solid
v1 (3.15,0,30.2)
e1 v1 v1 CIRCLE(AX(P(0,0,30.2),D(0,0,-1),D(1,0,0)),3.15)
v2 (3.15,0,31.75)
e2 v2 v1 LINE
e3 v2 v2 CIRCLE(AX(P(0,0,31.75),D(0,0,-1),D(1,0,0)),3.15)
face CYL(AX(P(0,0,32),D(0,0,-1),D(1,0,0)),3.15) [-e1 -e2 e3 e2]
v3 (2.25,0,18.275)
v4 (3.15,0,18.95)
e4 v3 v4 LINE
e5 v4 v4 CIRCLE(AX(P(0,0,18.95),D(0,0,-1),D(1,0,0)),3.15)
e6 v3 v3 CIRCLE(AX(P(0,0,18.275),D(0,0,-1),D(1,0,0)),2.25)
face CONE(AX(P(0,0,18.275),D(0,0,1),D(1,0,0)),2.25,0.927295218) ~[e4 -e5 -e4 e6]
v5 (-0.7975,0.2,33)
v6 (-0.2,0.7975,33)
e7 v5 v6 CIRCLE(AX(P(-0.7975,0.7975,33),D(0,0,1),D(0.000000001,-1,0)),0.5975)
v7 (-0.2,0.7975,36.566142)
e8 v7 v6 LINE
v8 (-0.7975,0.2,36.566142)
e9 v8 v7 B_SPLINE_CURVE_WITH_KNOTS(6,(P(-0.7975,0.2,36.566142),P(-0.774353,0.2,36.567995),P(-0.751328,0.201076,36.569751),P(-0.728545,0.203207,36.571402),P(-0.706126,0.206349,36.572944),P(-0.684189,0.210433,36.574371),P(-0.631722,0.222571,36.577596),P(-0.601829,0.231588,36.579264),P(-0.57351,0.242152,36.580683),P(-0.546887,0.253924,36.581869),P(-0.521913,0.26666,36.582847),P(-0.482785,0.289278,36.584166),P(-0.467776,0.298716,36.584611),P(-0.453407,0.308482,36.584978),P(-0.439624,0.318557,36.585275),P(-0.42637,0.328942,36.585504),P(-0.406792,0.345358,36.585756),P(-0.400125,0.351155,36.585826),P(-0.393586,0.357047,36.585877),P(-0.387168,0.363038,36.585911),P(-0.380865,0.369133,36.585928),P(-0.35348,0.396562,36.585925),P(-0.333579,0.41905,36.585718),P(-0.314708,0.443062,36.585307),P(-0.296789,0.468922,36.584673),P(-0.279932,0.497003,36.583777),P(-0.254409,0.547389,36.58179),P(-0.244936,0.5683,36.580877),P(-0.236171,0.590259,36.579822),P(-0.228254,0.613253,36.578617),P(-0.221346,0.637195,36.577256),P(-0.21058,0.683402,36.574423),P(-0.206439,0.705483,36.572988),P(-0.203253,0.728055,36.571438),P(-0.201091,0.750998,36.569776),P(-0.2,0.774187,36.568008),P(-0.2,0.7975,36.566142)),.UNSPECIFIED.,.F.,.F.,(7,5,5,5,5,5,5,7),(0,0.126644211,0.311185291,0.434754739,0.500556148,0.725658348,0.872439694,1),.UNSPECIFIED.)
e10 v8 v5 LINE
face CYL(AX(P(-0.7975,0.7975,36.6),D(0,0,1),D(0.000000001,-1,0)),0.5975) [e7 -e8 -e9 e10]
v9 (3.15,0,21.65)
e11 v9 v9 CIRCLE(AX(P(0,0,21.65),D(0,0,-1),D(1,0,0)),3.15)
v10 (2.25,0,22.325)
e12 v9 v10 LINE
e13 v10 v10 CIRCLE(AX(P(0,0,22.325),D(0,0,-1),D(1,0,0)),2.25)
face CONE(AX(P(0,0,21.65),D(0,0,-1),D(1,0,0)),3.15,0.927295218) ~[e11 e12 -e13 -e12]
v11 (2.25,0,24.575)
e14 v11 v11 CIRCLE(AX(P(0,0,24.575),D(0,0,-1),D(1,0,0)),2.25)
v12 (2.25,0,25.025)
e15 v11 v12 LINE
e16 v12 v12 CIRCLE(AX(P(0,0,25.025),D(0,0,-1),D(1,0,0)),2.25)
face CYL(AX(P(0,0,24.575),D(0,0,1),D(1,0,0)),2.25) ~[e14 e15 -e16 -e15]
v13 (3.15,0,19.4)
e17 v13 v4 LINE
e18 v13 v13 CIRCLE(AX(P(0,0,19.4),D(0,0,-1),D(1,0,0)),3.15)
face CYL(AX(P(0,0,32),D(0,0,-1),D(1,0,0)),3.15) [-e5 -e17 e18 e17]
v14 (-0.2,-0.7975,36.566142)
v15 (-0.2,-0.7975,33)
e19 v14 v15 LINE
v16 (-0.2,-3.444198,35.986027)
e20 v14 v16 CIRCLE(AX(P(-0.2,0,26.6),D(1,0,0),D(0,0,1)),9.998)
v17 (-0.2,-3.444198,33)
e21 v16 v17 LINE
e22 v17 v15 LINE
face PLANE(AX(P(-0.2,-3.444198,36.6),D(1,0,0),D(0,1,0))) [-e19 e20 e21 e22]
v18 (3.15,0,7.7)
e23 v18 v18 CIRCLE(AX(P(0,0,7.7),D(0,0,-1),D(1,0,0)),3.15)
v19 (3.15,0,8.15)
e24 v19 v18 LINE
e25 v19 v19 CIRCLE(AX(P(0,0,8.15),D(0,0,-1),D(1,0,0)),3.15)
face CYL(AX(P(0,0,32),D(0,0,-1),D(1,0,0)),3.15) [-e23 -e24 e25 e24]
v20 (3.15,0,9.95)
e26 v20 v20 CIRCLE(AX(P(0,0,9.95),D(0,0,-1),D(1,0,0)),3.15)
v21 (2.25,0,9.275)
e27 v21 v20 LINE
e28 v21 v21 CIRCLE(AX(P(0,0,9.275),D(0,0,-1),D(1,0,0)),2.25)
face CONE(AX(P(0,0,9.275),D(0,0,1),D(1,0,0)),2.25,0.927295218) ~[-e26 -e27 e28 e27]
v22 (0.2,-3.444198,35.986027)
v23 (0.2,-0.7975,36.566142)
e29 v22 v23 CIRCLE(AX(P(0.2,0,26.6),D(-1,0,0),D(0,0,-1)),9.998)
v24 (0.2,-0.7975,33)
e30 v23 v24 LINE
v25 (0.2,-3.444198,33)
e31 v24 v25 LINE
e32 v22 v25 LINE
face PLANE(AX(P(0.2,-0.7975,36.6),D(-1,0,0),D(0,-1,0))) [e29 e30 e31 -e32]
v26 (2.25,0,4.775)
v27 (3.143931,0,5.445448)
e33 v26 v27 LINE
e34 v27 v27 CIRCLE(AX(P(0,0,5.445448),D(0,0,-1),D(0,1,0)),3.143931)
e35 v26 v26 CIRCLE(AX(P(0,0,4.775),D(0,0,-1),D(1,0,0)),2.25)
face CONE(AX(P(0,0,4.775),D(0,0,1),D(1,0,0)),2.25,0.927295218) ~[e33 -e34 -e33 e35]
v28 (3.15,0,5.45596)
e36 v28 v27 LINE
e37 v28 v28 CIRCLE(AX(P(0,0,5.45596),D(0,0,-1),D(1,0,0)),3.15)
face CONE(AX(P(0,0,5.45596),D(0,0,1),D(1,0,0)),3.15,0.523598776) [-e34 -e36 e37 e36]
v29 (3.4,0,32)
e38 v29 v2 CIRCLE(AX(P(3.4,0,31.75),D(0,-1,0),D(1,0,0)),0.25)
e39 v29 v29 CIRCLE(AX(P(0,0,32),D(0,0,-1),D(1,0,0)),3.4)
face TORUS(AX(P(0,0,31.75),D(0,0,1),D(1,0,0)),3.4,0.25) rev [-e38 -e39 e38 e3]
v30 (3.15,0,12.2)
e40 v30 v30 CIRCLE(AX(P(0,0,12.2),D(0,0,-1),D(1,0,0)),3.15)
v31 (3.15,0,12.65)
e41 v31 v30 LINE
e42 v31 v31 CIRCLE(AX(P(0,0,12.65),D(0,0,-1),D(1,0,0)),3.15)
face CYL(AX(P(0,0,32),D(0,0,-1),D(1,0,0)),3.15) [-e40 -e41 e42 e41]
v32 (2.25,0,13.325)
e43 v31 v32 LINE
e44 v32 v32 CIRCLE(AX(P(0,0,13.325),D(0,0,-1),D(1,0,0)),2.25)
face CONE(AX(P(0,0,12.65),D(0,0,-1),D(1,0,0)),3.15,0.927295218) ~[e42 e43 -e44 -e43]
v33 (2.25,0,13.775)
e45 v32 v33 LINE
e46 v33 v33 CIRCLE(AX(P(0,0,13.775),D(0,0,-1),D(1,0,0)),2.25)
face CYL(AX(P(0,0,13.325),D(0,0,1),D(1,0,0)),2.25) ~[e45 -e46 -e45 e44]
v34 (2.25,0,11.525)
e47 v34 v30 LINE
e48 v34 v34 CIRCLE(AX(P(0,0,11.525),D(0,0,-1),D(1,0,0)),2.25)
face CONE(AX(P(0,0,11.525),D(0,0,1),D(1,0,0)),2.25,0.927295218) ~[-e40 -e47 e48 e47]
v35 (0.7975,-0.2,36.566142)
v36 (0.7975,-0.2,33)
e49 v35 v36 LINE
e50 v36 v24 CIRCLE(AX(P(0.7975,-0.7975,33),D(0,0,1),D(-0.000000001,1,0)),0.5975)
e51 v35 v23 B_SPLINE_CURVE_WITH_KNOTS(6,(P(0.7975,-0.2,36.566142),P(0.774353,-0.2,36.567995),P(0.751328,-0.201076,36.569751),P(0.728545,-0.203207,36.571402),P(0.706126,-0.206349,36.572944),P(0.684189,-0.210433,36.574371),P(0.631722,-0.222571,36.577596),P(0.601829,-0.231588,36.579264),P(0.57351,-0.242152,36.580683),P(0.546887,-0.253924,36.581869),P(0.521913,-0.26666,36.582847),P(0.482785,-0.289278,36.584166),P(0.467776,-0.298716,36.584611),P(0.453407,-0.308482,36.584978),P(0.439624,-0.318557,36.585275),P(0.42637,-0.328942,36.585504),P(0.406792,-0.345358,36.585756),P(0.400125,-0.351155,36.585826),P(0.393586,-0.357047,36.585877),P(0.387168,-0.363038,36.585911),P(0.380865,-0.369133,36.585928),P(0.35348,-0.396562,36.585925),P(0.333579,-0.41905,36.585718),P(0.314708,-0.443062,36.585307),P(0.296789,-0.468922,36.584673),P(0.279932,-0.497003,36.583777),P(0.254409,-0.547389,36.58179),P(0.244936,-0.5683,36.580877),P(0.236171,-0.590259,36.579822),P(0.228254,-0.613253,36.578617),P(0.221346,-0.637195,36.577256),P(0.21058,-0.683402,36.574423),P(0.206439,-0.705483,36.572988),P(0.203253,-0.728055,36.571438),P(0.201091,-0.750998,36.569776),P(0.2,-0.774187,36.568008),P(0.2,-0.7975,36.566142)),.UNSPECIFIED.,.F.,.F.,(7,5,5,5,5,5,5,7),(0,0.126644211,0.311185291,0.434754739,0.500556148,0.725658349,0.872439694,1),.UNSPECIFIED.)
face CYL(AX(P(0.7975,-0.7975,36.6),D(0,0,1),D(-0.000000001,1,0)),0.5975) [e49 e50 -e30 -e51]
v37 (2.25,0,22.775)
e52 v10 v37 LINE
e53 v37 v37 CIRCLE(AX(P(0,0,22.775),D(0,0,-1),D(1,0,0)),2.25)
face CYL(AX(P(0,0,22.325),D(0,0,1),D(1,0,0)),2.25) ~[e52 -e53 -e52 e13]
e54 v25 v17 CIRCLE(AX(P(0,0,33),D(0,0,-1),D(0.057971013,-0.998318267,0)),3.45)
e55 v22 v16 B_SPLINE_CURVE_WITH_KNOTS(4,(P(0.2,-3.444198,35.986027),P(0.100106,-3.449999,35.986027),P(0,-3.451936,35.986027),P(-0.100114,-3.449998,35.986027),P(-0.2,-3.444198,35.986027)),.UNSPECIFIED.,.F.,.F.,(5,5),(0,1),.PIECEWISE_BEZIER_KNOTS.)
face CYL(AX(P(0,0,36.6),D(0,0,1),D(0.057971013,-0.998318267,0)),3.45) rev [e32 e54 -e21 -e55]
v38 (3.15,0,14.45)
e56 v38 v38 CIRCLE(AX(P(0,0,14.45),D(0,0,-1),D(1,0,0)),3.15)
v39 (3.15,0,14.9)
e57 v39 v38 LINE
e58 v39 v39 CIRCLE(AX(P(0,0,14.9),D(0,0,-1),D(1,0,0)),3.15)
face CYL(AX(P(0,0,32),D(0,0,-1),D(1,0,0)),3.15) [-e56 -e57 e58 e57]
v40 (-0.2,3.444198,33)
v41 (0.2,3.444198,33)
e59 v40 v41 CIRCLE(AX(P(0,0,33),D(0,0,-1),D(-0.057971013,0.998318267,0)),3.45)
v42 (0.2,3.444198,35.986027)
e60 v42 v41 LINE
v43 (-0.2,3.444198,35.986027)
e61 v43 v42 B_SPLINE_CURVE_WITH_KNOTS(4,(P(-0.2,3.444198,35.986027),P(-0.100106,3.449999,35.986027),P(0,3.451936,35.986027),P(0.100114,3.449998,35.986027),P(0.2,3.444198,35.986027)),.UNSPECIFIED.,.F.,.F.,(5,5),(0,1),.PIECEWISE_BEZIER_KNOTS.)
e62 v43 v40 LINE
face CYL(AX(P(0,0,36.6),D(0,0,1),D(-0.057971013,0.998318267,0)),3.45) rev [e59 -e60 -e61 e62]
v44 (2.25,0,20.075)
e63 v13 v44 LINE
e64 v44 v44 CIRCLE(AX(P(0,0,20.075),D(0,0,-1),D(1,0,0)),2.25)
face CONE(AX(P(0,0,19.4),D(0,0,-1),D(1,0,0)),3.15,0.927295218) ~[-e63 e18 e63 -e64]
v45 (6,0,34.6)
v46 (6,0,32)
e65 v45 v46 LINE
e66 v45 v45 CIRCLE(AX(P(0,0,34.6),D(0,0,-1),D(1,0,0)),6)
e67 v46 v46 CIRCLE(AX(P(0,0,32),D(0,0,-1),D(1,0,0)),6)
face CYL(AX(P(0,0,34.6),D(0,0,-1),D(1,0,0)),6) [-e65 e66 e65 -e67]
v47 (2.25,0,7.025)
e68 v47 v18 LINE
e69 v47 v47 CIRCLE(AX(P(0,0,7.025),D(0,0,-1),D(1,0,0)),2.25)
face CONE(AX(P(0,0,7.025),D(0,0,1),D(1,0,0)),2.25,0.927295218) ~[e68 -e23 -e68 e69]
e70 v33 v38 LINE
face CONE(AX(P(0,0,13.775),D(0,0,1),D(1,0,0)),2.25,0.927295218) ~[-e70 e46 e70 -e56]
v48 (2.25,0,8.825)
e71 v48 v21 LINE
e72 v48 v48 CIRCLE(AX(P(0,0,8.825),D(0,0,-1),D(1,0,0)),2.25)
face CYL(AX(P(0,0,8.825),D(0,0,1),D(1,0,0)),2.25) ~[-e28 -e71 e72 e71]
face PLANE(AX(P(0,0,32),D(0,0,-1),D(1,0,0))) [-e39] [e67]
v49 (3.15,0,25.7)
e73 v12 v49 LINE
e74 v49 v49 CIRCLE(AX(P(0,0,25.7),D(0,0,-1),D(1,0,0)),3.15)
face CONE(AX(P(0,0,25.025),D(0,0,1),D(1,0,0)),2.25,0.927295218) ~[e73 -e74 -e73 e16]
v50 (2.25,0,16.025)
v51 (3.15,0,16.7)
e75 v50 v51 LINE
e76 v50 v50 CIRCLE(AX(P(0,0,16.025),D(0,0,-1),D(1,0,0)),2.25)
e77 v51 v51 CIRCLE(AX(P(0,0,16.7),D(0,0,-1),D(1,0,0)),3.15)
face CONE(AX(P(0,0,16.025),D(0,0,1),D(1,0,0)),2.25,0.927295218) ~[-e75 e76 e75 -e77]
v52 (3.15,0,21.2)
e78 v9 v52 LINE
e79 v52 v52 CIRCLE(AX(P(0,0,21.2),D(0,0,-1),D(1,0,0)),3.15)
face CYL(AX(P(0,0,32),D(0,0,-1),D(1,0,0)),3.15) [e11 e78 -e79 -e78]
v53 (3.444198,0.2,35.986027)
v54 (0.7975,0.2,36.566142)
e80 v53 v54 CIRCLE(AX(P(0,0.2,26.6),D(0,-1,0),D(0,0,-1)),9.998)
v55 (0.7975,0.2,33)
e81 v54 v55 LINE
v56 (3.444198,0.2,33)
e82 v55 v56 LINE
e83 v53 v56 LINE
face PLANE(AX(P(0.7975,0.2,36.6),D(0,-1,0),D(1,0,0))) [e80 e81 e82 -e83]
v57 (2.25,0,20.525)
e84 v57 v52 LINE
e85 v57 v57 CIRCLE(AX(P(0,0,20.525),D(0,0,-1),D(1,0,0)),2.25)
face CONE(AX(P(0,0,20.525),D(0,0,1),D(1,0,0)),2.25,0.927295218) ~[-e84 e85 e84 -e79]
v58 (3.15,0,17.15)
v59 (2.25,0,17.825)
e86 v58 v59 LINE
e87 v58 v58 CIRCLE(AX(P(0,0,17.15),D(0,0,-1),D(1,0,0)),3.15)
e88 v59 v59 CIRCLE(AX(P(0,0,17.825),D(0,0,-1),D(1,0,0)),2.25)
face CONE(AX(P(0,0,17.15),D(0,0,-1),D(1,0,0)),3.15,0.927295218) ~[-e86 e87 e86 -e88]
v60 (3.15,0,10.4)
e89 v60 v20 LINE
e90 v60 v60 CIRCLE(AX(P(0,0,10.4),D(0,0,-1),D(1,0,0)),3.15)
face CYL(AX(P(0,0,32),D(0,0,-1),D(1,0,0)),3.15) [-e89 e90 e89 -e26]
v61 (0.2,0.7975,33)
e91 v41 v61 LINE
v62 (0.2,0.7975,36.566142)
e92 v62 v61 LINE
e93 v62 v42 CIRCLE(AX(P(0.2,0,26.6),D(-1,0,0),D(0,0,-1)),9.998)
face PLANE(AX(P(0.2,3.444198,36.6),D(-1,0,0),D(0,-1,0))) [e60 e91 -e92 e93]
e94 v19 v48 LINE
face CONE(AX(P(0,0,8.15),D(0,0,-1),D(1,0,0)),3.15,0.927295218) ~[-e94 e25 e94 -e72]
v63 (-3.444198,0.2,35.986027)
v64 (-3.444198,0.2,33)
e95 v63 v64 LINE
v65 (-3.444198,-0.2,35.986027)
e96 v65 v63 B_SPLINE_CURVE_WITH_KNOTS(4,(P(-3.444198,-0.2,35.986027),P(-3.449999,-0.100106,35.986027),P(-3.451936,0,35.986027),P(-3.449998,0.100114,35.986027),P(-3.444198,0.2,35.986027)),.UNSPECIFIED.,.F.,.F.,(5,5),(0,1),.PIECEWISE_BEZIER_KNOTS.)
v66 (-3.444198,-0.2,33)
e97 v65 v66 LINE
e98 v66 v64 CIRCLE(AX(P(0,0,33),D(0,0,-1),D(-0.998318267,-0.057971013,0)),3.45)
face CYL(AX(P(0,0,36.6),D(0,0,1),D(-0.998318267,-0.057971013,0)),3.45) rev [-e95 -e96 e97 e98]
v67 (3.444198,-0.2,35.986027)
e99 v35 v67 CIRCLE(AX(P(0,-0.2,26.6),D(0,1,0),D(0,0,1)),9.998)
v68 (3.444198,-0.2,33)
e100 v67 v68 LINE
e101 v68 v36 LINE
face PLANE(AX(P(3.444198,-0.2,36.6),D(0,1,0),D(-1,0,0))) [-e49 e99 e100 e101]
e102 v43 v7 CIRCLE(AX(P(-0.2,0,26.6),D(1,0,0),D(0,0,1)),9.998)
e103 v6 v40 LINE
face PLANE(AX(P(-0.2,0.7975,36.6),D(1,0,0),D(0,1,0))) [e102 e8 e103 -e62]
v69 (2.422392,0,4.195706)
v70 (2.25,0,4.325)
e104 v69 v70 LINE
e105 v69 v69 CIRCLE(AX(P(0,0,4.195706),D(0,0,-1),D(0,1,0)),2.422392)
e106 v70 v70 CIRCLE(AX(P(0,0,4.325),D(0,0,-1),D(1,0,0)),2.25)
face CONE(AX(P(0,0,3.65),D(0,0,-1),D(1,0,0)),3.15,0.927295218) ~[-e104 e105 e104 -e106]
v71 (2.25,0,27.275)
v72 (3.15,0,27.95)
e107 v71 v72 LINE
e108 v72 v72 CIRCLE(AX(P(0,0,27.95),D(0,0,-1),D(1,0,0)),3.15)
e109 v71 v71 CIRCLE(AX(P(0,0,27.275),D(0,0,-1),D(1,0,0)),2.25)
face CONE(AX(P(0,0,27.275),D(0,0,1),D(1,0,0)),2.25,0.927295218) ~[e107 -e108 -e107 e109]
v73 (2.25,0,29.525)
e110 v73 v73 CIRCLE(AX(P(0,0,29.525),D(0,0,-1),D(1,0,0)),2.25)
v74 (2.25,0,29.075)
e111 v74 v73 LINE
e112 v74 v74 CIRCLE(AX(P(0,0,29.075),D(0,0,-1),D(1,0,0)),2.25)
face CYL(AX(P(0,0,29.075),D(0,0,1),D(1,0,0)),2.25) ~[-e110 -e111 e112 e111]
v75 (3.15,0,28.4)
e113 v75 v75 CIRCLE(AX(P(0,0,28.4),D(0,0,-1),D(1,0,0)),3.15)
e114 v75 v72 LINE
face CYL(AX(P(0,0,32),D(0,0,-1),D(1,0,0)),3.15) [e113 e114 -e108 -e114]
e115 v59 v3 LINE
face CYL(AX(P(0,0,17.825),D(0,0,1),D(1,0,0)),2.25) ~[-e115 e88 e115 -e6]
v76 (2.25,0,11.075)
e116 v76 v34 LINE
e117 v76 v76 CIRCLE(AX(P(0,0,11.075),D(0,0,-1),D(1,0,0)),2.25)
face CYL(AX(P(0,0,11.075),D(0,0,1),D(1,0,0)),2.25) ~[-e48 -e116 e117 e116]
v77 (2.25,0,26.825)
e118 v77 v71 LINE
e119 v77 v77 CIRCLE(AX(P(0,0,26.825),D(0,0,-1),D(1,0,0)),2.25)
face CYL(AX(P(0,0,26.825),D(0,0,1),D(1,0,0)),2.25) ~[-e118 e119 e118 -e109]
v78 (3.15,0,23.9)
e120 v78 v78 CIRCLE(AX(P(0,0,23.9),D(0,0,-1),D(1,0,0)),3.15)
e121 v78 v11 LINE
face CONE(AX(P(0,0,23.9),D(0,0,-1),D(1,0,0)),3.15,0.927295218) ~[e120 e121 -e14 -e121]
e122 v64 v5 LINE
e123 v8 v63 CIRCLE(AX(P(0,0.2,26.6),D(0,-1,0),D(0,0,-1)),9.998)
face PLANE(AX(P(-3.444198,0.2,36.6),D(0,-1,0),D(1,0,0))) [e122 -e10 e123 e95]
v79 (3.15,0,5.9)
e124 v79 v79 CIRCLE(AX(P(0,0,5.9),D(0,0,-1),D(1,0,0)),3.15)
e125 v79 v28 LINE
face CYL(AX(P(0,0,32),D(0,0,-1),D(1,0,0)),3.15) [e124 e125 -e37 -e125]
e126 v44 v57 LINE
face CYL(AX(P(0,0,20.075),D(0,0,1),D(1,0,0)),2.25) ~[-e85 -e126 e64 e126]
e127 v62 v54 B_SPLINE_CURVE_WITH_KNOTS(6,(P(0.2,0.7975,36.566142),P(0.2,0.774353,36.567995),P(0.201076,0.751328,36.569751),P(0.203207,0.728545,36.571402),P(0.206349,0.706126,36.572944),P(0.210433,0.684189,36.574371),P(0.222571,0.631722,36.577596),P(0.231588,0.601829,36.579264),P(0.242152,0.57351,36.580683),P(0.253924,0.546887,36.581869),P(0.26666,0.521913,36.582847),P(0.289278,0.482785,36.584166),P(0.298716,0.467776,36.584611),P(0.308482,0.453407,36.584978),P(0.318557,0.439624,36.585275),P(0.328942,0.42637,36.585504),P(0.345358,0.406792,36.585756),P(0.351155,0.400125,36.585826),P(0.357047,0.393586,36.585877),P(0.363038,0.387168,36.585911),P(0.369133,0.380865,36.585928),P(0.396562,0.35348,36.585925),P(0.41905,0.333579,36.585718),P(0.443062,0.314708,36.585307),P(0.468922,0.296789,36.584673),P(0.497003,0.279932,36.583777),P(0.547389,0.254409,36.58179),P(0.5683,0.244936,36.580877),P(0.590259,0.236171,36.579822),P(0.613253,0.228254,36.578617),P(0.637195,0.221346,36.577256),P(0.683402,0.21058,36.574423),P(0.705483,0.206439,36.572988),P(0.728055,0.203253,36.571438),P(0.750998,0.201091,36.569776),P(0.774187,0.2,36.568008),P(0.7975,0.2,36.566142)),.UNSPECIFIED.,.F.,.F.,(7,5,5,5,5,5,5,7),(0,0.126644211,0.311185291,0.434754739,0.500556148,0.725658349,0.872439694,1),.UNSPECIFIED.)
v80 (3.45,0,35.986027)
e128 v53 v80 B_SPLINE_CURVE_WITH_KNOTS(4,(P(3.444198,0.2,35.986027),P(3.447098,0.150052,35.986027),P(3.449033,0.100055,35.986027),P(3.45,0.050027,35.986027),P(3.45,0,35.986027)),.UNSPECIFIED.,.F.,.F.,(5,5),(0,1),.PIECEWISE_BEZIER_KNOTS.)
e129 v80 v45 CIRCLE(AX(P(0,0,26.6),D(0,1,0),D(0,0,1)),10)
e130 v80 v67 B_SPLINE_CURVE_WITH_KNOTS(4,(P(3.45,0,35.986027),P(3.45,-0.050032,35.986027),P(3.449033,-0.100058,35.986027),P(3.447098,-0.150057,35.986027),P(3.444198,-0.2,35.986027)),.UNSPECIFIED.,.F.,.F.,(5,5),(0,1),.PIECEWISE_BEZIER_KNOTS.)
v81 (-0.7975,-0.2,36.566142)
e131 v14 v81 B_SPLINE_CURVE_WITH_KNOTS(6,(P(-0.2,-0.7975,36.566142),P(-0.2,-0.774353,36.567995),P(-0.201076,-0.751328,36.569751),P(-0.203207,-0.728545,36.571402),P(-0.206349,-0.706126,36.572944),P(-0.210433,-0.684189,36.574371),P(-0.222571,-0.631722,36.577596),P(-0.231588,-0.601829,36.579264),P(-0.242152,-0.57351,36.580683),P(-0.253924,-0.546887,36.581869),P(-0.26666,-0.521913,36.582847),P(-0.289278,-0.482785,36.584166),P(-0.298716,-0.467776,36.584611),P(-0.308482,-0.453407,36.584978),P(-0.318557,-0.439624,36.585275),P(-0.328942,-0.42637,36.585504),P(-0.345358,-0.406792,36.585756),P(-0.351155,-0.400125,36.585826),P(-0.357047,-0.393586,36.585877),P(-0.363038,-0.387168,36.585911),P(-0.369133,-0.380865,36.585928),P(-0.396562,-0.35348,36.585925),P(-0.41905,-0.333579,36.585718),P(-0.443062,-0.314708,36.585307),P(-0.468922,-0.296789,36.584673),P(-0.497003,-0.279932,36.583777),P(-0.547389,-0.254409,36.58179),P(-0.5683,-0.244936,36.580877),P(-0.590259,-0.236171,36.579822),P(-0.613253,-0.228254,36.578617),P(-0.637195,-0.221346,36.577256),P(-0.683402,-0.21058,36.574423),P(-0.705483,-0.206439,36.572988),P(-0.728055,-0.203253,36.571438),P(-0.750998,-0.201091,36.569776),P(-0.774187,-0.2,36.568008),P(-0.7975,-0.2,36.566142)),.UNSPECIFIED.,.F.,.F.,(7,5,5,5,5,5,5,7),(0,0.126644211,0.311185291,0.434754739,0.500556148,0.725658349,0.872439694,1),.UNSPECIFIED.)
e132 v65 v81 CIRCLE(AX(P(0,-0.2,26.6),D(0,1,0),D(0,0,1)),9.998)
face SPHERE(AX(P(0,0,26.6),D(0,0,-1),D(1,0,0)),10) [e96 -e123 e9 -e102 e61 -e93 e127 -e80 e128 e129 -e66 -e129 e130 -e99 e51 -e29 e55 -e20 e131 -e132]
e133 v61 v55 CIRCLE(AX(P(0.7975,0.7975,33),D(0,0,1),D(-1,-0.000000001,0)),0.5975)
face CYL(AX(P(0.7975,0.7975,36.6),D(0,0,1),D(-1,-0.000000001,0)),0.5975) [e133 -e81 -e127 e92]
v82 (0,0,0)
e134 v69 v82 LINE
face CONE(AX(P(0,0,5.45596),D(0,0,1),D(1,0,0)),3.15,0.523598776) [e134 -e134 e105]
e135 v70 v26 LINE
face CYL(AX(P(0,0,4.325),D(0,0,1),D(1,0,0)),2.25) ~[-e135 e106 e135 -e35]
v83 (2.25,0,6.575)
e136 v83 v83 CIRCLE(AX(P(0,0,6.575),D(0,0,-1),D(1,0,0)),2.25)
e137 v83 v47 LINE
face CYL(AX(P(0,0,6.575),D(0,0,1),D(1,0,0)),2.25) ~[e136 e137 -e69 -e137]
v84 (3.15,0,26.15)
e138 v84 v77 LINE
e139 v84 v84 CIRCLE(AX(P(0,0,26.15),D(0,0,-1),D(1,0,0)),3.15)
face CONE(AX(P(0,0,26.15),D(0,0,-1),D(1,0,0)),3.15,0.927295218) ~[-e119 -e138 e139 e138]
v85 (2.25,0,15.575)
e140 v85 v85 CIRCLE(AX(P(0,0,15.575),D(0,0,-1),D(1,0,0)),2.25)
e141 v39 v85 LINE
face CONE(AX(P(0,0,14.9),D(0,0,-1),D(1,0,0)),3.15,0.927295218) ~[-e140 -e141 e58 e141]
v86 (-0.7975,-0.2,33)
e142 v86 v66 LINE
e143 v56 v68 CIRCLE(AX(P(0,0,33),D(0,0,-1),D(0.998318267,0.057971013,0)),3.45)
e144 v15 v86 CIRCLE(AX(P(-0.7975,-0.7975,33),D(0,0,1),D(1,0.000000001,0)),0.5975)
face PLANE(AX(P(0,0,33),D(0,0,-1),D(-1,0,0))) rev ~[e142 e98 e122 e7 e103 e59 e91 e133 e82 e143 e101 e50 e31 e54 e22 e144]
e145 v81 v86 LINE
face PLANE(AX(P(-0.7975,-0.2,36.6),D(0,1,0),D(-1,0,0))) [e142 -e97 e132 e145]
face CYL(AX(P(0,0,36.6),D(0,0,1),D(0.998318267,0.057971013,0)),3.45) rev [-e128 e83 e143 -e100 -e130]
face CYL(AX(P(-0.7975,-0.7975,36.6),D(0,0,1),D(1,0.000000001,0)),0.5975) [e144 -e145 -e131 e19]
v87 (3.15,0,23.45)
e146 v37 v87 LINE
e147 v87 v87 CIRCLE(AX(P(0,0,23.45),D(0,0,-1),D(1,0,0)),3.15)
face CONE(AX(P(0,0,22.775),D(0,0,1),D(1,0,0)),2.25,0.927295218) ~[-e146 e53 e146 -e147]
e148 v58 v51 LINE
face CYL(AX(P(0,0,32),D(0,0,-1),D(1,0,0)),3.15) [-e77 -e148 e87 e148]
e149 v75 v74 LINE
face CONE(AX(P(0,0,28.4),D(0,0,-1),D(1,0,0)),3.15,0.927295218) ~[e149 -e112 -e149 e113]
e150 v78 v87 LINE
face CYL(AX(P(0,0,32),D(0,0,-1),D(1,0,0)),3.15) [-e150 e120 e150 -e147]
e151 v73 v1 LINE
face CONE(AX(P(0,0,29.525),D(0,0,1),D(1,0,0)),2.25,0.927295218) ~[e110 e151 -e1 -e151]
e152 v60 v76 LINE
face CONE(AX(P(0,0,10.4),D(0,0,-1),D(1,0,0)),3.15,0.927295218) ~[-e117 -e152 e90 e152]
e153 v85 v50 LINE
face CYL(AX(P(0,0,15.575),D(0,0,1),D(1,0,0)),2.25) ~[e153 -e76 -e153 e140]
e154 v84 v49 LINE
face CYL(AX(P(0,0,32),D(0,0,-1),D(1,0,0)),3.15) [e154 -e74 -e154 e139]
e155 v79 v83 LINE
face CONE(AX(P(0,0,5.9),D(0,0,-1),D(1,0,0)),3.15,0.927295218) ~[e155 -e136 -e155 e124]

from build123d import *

# Parameters (mm, degrees)
CUT_EXTRUDE_2_DEPTH    = 3.6
PATTERN_LINEAR_1_COUNT = 13
PATTERN_LINEAR_1_PITCH = 2.25
FILLET_1_R             = 0.25


with BuildPart() as part:
    # 草图8 → Revolve 1408 (revolve)
    with BuildSketch(Plane(origin=(0, 0, 0), x_dir=(0, 0, -1), z_dir=(1, 0, 0)), mode=Mode.PRIVATE) as revolve_1408_sk:
        with BuildLine():
            Line((0, 0), (-36.6, 0))
            ThreePointArc((-36.6, 0), (-36.086832981, 3.16227766), (-34.6, 6))
            Line((-34.6, 6), (-32, 6))
            Line((-32, 6), (-32, 3.15))
            Line((-32, 3.15), (-5.455960044, 3.15))
            Line((-5.455960044, 3.15), (0, 0))
        make_face()
    revolve(revolve_1408_sk.sketch.rotate(Axis((0, 0, 11.71), (0, 0, -1)), 90), axis=Axis((0, 0, 11.71), (0, 0, -1)))

    # 草图7 → 切除-拉伸2 (cut)
    with BuildSketch(Plane.XY.offset(36.6)):
        with BuildLine():
            Line((0.2, 3.44419802), (0.2, 0.797500009))
            ThreePointArc((0.2, 0.797500009), (0.375003701, 0.375003701), (0.797500009, 0.2))
            Line((0.797500009, 0.2), (3.44419802, 0.2))
            ThreePointArc((3.44419802, 0.2), (3.45, 0), (3.44419802, -0.2))
            Line((3.44419802, -0.2), (0.797500009, -0.2))
            ThreePointArc((0.797500009, -0.2), (0.375003701, -0.375003701), (0.2, -0.797500009))
            Line((0.2, -0.797500009), (0.2, -3.44419802))
            ThreePointArc((0.2, -3.44419802), (0, -3.45), (-0.2, -3.44419802))
            Line((-0.2, -3.44419802), (-0.2, -0.797500009))
            ThreePointArc((-0.2, -0.797500009), (-0.375003701, -0.375003701), (-0.797500009, -0.2))
            Line((-0.797500009, -0.2), (-3.44419802, -0.2))
            ThreePointArc((-3.44419802, -0.2), (-3.45, 0), (-3.44419802, 0.2))
            Line((-3.44419802, 0.2), (-0.797500009, 0.2))
            ThreePointArc((-0.797500009, 0.2), (-0.375003701, 0.375003701), (-0.2, 0.797500009))
            Line((-0.2, 0.797500009), (-0.2, 3.44419802))
            ThreePointArc((-0.2, 3.44419802), (0, 3.45), (0.2, 3.44419802))
        make_face()
    extrude(amount=-CUT_EXTRUDE_2_DEPTH, mode=Mode.SUBTRACT)

    # 草图9 → 切除-旋转1 (revolve, cut)
    with BuildSketch(Plane(origin=(0, 0, 0), x_dir=(0, 0, -1), z_dir=(1, 0, 0)), mode=Mode.PRIVATE) as cut_revolve_1_sk:
        Polygon((-30.2, 3.15), (-28.4, 3.15), (-29.075, 2.25), (-29.525, 2.25), align=None)
    cut_revolve_1 = revolve(cut_revolve_1_sk.sketch.rotate(Axis((0, 0, 6.911978604), (0, 0, -1)), 90), axis=Axis((0, 0, 6.911978604), (0, 0, -1)), mode=Mode.SUBTRACT)

    # 阵列(线性)1: 切除-旋转1 ×13
    with Locations(*[(0, 0, -i * PATTERN_LINEAR_1_PITCH) for i in range(1, PATTERN_LINEAR_1_COUNT)]):
        add(cut_revolve_1, mode=Mode.SUBTRACT)

    # 圆角1
    fillet_1_edges = [part.edges().sort_by_distance(p)[0] for p in [
        (-3.15, 0, 32),
    ]]
    fillet(fillet_1_edges, radius=FILLET_1_R)


solid = part.part
